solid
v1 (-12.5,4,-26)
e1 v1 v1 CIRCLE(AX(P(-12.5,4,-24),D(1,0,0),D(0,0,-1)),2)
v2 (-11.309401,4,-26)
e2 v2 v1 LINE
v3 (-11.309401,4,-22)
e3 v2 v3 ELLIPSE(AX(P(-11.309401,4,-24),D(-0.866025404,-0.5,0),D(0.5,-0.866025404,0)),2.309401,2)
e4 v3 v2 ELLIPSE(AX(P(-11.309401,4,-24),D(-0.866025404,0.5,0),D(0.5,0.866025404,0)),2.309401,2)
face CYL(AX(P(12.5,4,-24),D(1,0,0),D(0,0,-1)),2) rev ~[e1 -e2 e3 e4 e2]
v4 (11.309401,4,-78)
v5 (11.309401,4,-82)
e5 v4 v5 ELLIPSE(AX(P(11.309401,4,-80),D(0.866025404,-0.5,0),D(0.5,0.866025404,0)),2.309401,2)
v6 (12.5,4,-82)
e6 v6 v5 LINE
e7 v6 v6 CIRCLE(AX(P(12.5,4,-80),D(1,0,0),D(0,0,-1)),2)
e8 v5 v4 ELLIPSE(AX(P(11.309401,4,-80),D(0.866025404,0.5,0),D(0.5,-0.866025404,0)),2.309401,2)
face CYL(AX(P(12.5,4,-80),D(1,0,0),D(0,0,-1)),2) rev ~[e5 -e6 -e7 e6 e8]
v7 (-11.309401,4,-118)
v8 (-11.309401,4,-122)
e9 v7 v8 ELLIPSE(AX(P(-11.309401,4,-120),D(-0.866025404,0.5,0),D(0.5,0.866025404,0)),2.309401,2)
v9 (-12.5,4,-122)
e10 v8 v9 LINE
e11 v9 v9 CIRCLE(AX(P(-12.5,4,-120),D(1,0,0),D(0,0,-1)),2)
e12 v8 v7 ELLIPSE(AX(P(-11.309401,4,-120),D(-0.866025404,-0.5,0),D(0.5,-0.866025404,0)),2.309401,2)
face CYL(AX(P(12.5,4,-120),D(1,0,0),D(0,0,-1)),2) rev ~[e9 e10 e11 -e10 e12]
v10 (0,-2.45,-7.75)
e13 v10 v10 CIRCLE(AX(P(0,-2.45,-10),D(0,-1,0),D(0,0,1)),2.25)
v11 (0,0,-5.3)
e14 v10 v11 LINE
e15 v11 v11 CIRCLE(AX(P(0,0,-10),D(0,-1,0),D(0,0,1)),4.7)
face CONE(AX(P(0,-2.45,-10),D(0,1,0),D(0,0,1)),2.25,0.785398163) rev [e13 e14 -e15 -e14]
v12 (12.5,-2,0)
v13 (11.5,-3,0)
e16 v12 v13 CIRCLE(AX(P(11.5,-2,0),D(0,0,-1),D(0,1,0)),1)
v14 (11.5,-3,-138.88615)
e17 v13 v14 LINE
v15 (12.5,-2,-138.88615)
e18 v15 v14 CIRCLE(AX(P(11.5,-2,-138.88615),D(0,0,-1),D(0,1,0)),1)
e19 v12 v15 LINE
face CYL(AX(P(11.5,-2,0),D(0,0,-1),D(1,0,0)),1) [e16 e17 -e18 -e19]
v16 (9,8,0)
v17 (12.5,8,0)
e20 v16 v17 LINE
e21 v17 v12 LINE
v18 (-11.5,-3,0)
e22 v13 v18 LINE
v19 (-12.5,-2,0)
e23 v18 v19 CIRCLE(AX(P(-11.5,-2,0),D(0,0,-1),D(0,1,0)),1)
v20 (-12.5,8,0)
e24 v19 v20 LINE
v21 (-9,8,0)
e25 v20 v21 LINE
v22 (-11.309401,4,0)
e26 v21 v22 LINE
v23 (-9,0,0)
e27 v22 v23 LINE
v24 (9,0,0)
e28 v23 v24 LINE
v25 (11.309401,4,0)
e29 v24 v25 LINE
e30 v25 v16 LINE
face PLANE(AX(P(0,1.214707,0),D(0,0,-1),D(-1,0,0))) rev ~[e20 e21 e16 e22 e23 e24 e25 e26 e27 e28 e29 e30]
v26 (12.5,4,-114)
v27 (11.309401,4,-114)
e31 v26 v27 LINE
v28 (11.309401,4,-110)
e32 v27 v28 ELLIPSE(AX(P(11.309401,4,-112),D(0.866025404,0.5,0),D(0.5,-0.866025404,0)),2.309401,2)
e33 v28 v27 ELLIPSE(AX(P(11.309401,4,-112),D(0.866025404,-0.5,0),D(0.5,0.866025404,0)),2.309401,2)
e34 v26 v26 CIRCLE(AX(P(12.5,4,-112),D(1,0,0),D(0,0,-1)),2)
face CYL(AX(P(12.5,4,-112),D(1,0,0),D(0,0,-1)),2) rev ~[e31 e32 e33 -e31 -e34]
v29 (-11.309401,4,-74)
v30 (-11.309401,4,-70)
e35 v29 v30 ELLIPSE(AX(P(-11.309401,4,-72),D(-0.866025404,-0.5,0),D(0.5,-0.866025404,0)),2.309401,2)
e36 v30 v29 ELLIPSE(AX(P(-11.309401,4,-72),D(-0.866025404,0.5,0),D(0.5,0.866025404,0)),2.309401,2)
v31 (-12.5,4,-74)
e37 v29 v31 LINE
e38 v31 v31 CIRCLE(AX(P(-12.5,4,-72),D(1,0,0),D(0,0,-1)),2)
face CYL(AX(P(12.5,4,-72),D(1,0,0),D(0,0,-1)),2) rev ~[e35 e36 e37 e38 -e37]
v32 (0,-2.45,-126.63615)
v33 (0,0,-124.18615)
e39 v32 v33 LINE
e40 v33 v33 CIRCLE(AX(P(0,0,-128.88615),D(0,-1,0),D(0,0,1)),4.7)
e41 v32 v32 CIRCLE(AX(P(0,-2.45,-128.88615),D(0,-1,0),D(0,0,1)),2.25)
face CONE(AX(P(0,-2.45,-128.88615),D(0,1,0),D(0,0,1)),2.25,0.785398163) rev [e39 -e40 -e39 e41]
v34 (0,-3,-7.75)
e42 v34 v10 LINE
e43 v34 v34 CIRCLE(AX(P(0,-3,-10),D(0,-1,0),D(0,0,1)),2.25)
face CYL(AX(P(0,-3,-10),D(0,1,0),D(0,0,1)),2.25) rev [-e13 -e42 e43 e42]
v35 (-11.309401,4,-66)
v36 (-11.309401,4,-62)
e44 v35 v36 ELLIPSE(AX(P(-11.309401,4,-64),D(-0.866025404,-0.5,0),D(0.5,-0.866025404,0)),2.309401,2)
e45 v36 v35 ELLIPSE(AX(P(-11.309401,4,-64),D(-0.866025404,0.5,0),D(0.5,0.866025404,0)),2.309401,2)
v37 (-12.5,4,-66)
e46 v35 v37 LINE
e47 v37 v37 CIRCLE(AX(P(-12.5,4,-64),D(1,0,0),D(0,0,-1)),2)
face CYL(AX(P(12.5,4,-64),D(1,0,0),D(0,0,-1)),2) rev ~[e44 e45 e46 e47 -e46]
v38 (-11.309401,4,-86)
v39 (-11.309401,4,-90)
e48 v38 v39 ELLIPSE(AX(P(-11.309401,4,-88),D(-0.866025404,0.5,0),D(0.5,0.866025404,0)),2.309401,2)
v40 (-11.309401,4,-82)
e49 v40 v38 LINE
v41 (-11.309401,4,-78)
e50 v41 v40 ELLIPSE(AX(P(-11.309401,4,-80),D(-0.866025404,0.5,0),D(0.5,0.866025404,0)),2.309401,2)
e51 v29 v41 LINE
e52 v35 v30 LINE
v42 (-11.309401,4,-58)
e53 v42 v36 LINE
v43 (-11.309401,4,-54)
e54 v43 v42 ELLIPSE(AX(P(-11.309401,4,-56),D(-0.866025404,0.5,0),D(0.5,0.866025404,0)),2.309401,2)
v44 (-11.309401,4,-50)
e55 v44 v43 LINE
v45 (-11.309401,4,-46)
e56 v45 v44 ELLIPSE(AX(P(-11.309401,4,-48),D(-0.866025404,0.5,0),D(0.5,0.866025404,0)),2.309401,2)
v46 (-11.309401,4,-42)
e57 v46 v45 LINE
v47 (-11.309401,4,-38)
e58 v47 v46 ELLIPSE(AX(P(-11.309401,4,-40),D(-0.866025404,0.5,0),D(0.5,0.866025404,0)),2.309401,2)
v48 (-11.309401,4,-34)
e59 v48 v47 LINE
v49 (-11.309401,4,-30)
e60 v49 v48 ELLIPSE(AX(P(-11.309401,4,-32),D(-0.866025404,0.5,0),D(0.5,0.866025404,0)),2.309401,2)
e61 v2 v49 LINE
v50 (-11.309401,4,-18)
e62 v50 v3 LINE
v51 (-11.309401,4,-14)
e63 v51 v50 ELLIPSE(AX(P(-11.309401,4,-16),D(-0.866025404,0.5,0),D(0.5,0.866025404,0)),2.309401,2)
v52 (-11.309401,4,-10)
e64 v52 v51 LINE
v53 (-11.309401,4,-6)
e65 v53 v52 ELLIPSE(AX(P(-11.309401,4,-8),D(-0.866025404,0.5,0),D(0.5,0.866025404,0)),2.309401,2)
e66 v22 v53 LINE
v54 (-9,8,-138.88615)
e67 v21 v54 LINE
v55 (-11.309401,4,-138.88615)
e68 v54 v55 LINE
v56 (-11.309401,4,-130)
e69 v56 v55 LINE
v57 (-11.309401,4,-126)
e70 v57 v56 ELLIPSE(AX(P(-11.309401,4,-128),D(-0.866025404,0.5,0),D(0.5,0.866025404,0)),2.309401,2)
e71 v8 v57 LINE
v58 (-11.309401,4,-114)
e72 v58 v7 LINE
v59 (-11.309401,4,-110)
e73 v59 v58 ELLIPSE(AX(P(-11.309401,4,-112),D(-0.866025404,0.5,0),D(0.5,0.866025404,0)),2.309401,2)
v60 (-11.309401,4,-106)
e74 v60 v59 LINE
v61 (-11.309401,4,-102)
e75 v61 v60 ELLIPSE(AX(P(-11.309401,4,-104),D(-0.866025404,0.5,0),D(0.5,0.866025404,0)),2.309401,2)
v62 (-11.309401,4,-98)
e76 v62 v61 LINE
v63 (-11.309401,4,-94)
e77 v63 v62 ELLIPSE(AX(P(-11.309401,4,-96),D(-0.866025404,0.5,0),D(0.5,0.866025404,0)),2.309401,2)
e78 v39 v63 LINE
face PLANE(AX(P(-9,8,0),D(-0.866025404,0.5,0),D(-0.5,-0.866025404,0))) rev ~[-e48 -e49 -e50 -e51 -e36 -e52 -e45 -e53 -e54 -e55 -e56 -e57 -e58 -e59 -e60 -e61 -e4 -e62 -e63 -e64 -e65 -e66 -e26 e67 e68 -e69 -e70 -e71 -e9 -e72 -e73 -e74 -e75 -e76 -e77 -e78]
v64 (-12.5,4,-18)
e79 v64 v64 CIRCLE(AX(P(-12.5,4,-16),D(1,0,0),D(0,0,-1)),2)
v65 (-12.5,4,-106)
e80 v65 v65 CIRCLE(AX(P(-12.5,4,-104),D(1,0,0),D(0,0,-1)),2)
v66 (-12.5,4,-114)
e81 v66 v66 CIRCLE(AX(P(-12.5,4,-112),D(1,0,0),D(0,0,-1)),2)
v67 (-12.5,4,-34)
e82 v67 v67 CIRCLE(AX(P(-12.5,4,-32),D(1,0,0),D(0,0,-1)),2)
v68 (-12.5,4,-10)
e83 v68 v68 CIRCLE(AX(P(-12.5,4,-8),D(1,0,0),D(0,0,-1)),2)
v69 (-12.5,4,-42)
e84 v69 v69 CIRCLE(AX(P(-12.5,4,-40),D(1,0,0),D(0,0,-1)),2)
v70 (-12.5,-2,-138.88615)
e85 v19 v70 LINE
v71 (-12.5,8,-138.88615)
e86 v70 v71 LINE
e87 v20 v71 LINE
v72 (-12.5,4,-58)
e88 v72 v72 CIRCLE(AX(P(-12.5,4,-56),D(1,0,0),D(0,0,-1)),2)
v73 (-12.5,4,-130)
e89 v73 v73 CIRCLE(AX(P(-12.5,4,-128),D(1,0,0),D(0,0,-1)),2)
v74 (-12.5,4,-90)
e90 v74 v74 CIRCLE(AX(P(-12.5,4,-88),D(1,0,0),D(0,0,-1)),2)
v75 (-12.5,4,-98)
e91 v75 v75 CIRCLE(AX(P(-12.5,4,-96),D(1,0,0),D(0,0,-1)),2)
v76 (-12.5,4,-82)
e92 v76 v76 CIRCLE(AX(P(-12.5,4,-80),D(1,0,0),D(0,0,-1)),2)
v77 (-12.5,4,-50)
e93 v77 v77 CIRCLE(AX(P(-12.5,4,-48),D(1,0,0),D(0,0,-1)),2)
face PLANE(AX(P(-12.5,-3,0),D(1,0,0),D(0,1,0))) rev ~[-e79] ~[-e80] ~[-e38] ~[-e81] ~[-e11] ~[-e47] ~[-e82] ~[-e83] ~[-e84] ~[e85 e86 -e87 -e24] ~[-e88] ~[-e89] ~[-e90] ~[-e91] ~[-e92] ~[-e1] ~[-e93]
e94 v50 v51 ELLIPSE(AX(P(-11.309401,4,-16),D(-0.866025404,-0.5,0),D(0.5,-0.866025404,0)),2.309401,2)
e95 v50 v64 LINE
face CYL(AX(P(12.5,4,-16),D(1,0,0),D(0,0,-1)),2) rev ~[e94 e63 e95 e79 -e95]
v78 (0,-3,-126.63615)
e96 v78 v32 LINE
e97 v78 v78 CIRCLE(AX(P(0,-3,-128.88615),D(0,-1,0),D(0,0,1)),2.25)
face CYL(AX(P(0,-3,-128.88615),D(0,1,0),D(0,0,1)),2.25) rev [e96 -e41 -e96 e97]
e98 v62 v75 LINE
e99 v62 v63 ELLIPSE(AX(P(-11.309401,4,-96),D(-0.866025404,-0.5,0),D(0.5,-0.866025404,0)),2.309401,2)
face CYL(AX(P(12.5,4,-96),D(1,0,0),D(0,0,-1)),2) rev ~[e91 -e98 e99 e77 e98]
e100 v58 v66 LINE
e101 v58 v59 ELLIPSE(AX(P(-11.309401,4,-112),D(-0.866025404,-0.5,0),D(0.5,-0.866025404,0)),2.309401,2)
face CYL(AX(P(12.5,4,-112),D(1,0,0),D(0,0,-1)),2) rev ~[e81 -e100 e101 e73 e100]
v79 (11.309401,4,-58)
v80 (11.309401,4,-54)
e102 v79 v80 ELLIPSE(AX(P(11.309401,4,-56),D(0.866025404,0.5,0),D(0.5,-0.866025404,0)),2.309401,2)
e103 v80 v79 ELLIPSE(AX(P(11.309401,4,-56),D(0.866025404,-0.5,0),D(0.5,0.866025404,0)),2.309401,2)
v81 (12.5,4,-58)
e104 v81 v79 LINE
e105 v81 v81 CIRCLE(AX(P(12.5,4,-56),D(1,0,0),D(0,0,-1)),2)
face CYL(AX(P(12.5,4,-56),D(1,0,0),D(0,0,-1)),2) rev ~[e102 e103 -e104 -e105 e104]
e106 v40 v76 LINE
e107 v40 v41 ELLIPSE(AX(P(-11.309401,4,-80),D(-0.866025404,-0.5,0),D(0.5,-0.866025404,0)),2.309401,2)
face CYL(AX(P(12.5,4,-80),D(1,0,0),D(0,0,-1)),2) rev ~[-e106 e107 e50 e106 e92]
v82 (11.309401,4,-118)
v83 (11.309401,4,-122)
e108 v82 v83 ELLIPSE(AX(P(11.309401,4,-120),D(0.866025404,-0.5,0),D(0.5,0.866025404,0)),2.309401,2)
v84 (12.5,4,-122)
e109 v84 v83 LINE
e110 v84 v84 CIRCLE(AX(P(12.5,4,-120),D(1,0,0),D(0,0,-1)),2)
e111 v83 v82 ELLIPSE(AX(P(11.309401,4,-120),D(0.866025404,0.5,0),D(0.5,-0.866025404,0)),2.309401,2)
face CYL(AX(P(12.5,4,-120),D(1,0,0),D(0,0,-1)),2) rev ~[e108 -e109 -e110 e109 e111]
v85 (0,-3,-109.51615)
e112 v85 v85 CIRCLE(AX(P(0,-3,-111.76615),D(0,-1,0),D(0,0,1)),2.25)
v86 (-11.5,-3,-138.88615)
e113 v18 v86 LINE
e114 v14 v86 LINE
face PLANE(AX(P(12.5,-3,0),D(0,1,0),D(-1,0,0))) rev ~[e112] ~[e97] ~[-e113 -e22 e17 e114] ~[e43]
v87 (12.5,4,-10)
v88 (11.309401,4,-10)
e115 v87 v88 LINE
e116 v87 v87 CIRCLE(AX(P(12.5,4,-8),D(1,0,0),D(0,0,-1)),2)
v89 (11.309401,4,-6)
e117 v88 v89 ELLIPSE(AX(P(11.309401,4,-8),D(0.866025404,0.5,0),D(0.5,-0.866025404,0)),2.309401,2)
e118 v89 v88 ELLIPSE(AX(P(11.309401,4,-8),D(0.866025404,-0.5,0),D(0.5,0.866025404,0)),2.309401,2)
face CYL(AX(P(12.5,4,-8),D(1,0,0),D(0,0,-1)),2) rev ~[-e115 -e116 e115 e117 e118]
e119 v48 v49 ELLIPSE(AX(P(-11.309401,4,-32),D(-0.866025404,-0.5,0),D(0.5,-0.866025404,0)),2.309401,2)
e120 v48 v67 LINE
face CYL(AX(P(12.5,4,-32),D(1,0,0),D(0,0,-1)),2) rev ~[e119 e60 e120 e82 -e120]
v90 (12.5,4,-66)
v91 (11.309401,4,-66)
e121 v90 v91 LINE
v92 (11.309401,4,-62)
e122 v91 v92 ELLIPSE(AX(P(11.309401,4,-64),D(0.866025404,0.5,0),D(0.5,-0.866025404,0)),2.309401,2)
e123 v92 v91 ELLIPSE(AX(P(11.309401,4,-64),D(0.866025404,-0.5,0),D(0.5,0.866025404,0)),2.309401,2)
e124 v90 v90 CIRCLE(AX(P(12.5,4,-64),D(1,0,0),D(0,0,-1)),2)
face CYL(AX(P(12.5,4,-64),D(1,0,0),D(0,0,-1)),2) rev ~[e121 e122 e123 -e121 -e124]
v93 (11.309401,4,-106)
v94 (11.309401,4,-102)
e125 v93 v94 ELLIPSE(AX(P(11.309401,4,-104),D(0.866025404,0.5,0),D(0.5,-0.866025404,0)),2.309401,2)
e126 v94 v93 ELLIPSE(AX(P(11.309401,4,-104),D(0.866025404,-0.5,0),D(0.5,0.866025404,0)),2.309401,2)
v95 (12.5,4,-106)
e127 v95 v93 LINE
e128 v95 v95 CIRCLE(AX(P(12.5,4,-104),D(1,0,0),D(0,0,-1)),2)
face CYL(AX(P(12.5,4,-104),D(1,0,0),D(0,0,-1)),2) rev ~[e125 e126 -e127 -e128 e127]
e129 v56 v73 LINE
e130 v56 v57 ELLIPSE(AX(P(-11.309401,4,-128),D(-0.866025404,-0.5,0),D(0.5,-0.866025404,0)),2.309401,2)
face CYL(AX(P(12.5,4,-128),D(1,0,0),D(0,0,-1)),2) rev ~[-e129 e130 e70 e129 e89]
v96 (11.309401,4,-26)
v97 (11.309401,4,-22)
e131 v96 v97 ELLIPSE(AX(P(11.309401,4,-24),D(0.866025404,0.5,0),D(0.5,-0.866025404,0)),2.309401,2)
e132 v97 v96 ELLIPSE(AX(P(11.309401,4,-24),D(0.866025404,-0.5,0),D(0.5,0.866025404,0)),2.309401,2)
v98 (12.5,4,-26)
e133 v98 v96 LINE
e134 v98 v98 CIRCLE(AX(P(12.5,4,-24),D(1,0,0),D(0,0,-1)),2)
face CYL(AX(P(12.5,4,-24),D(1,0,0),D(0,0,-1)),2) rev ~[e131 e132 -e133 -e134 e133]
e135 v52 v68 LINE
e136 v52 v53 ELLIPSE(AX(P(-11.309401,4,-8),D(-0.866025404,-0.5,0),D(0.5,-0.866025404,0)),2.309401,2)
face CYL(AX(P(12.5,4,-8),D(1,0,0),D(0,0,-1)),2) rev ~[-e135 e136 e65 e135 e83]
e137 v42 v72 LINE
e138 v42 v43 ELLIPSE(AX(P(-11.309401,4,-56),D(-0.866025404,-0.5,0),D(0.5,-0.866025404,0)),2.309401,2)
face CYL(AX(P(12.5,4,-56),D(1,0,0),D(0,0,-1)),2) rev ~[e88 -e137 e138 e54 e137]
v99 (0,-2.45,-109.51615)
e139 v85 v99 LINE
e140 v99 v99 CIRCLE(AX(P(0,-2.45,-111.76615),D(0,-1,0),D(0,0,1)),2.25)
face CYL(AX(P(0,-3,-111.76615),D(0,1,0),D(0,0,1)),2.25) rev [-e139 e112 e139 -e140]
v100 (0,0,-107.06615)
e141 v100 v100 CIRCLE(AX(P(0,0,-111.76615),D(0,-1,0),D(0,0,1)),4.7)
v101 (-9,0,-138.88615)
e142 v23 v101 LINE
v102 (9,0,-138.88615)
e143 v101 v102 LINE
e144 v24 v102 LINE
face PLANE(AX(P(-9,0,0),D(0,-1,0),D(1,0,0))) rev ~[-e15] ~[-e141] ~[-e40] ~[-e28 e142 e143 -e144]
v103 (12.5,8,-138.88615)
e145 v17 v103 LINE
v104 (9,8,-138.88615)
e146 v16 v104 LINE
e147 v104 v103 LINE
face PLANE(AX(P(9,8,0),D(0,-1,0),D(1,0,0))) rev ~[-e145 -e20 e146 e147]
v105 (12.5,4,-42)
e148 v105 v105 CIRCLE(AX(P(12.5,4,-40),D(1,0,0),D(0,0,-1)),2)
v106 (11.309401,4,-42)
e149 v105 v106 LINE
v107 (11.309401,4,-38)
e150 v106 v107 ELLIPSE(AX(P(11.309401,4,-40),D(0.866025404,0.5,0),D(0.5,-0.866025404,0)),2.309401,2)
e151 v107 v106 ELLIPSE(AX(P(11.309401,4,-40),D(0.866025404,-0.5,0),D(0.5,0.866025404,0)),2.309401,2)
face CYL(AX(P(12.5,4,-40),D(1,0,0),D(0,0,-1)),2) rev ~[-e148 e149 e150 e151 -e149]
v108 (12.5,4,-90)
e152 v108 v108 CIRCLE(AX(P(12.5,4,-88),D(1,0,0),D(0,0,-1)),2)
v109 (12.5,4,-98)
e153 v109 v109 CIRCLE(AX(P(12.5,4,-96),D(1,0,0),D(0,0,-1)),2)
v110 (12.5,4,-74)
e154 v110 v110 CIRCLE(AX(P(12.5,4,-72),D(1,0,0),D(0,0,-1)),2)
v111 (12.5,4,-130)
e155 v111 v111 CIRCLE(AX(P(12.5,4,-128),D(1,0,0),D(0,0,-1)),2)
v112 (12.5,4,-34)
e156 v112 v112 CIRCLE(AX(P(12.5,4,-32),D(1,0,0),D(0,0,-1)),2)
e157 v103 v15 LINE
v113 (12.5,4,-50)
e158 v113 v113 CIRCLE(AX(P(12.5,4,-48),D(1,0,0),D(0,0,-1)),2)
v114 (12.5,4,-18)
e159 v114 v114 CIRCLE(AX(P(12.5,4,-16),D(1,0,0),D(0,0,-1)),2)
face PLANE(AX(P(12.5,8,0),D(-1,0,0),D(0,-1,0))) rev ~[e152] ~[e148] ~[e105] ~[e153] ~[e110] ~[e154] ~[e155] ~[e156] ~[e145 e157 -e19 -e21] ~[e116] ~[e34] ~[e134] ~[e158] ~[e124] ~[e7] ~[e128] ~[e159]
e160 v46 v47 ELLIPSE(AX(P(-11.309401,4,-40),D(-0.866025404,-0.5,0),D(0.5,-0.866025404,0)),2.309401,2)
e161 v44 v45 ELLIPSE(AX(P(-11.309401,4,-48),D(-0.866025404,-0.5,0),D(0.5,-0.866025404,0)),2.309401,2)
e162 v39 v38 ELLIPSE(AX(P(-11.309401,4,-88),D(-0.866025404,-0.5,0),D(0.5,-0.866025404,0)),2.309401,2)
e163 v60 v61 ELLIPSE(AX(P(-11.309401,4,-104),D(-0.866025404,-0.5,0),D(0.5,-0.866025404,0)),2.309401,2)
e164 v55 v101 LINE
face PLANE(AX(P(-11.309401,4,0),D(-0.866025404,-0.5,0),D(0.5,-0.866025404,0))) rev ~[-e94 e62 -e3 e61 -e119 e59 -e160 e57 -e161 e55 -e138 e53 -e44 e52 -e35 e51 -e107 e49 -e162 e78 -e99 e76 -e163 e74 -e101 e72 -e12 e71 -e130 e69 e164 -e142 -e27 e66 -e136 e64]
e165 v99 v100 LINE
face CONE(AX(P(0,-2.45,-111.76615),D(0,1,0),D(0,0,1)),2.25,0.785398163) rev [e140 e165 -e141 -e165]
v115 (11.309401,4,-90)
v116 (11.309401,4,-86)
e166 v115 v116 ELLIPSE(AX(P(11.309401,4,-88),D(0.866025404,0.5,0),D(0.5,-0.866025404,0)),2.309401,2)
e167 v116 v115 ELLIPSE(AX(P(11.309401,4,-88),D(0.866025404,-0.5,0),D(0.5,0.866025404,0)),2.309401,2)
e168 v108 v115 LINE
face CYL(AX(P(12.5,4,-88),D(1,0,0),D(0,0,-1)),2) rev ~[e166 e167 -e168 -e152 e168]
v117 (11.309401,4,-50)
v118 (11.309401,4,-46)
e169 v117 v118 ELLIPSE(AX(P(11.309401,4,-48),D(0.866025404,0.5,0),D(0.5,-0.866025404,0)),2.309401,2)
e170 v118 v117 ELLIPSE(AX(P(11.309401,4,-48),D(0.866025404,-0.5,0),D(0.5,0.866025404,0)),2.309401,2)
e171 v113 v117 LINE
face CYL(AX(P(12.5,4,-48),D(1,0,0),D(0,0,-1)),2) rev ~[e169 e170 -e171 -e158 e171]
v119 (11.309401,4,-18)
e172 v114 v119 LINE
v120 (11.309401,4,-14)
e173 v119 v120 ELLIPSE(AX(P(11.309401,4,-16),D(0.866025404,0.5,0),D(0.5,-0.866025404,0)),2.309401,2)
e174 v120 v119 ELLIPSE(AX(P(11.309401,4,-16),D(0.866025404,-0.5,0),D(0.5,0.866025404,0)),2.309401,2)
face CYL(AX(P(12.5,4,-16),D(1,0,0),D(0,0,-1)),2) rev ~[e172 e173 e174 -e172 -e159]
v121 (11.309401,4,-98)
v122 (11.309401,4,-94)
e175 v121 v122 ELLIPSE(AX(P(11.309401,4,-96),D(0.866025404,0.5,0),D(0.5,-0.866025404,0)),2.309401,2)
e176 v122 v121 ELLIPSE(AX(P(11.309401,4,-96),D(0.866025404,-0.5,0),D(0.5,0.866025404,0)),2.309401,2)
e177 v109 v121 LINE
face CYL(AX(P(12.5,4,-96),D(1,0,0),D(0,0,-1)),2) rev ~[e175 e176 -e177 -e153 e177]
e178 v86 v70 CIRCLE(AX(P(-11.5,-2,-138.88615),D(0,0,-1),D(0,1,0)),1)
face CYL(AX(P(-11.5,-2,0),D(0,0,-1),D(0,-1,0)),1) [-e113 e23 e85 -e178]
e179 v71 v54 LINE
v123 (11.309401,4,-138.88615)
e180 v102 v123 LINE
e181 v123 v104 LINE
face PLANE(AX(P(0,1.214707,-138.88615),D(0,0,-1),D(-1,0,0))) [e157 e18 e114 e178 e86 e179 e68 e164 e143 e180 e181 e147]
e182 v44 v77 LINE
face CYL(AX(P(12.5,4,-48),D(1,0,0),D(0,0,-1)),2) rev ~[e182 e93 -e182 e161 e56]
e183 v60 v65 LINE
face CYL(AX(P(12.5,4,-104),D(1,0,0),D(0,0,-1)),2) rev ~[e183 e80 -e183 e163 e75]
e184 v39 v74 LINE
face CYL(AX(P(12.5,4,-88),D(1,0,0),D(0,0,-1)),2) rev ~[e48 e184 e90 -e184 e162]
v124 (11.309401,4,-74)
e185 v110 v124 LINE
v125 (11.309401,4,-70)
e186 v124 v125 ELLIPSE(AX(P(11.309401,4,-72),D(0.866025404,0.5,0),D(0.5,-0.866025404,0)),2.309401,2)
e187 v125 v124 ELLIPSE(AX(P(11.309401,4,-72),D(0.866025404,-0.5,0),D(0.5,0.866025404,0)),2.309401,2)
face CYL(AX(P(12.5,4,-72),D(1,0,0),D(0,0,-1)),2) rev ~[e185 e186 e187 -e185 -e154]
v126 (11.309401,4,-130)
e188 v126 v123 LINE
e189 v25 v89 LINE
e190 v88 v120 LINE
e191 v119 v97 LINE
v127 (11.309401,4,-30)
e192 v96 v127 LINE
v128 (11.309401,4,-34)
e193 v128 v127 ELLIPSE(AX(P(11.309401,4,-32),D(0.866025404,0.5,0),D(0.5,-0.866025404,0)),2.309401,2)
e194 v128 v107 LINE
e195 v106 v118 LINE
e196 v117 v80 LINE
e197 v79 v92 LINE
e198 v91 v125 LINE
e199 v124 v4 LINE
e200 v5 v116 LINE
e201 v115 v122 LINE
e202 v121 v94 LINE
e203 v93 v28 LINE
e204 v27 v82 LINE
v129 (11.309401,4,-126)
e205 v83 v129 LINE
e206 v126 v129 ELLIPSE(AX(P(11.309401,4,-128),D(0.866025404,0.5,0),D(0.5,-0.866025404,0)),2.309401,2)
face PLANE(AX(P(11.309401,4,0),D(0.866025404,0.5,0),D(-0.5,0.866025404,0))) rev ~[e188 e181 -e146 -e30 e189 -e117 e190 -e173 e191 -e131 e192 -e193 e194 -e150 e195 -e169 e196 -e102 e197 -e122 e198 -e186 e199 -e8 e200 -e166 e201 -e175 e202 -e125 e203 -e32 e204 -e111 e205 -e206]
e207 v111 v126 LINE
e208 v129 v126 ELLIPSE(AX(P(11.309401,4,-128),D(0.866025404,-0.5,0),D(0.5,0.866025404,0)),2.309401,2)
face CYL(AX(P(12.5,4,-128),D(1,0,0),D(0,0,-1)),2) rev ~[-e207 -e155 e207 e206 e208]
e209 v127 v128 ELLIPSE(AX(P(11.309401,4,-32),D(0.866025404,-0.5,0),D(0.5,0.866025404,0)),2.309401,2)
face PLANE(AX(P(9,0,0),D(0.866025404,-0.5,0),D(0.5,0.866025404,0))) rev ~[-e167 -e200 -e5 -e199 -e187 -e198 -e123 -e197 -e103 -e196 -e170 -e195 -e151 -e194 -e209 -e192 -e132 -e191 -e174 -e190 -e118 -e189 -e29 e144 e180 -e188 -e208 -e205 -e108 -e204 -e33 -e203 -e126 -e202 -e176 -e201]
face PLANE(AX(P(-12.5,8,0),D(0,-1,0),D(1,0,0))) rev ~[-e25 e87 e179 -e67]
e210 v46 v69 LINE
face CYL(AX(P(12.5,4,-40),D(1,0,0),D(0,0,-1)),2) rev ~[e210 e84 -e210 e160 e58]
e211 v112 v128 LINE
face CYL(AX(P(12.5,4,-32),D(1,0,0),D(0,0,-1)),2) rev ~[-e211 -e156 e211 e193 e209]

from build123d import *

# Parameters (mm, degrees)
BOSS_EXTRUDE1_DEPTH                            = 138.88615
SKETCH3_R                                      = 2
CUT_EXTRUDE2_DEPTH                             = 100
LPATTERN1_COUNT                                = 16
LPATTERN1_PITCH                                = 8
FILLET1_R                                      = 1
CSK_FOR_M4_FLAT_HEAD_MACHINE_SCREW1_AT_2_COUNT = 2
CSK_FOR_M4_FLAT_HEAD_MACHINE_SCREW1_AT_2_PITCH = 118.88615
CSK_FOR_M4_FLAT_HEAD_MACHINE_SCREW1_AT_3_COUNT = 2
CSK_FOR_M4_FLAT_HEAD_MACHINE_SCREW1_AT_3_PITCH = 101.76615


with BuildPart() as part:
    # Sketch1 → Boss-Extrude1 (new body)
    with BuildSketch(Plane.XY):
        Polygon((-9, 0), (9, 0), (11.309401077, 4), (9, 8), (12.5, 8), (12.5, -3), (-12.5, -3), (-12.5, 8), (-9, 8), (-11.309401077, 4), align=None)
    extrude(amount=-BOSS_EXTRUDE1_DEPTH)

    # Sketch3 → Cut-Extrude2 (cut)
    with BuildSketch(Plane(origin=(12.5, 0, 0), x_dir=(0, 0, -1), z_dir=(1, 0, 0))):
        with Locations((8, 4)):
            Circle(SKETCH3_R)
    cut_extrude2 = extrude(amount=-CUT_EXTRUDE2_DEPTH, mode=Mode.SUBTRACT)

    # LPattern1: Cut-Extrude2 ×16
    with Locations(*[(0, 0, -i * LPATTERN1_PITCH) for i in range(1, LPATTERN1_COUNT)]):
        add(cut_extrude2, mode=Mode.SUBTRACT)

    # Fillet1
    fillet1_edges = [part.edges().sort_by_distance(p)[0] for p in [
        (12.5, -3, -69.443075),
        (-12.5, -3, -69.443075),
    ]]
    fillet(fillet1_edges, radius=FILLET1_R)

    # Sketch5 → CSK for M4 Flat Head Machine Screw1 (revolve, cut)
    with BuildSketch(Plane(origin=(0, 0, -10), x_dir=(0, 0, 1), z_dir=(1, 0, 0))):
        Polygon((0, 0), (0, 3), (2.25, 3), (2.25, 2.45), (4.7, 0), align=None)
    csk_for_m4_flat_head_machine_screw1 = revolve(axis=Axis((0, 6.35, -10), (0, -1, 0)), mode=Mode.SUBTRACT)

    # CSK for M4 Flat Head Machine Screw1 at 2: CSK for M4 Flat Head Machine Screw1 ×2
    with Locations(*[(0, 0, -i * CSK_FOR_M4_FLAT_HEAD_MACHINE_SCREW1_AT_2_PITCH) for i in range(1, CSK_FOR_M4_FLAT_HEAD_MACHINE_SCREW1_AT_2_COUNT)]):
        add(csk_for_m4_flat_head_machine_screw1, mode=Mode.SUBTRACT)

    # CSK for M4 Flat Head Machine Screw1 at 3: CSK for M4 Flat Head Machine Screw1 ×2
    with Locations(*[(0, 0, -i * CSK_FOR_M4_FLAT_HEAD_MACHINE_SCREW1_AT_3_PITCH) for i in range(1, CSK_FOR_M4_FLAT_HEAD_MACHINE_SCREW1_AT_3_COUNT)]):
        add(csk_for_m4_flat_head_machine_screw1, mode=Mode.SUBTRACT)


solid = part.part
